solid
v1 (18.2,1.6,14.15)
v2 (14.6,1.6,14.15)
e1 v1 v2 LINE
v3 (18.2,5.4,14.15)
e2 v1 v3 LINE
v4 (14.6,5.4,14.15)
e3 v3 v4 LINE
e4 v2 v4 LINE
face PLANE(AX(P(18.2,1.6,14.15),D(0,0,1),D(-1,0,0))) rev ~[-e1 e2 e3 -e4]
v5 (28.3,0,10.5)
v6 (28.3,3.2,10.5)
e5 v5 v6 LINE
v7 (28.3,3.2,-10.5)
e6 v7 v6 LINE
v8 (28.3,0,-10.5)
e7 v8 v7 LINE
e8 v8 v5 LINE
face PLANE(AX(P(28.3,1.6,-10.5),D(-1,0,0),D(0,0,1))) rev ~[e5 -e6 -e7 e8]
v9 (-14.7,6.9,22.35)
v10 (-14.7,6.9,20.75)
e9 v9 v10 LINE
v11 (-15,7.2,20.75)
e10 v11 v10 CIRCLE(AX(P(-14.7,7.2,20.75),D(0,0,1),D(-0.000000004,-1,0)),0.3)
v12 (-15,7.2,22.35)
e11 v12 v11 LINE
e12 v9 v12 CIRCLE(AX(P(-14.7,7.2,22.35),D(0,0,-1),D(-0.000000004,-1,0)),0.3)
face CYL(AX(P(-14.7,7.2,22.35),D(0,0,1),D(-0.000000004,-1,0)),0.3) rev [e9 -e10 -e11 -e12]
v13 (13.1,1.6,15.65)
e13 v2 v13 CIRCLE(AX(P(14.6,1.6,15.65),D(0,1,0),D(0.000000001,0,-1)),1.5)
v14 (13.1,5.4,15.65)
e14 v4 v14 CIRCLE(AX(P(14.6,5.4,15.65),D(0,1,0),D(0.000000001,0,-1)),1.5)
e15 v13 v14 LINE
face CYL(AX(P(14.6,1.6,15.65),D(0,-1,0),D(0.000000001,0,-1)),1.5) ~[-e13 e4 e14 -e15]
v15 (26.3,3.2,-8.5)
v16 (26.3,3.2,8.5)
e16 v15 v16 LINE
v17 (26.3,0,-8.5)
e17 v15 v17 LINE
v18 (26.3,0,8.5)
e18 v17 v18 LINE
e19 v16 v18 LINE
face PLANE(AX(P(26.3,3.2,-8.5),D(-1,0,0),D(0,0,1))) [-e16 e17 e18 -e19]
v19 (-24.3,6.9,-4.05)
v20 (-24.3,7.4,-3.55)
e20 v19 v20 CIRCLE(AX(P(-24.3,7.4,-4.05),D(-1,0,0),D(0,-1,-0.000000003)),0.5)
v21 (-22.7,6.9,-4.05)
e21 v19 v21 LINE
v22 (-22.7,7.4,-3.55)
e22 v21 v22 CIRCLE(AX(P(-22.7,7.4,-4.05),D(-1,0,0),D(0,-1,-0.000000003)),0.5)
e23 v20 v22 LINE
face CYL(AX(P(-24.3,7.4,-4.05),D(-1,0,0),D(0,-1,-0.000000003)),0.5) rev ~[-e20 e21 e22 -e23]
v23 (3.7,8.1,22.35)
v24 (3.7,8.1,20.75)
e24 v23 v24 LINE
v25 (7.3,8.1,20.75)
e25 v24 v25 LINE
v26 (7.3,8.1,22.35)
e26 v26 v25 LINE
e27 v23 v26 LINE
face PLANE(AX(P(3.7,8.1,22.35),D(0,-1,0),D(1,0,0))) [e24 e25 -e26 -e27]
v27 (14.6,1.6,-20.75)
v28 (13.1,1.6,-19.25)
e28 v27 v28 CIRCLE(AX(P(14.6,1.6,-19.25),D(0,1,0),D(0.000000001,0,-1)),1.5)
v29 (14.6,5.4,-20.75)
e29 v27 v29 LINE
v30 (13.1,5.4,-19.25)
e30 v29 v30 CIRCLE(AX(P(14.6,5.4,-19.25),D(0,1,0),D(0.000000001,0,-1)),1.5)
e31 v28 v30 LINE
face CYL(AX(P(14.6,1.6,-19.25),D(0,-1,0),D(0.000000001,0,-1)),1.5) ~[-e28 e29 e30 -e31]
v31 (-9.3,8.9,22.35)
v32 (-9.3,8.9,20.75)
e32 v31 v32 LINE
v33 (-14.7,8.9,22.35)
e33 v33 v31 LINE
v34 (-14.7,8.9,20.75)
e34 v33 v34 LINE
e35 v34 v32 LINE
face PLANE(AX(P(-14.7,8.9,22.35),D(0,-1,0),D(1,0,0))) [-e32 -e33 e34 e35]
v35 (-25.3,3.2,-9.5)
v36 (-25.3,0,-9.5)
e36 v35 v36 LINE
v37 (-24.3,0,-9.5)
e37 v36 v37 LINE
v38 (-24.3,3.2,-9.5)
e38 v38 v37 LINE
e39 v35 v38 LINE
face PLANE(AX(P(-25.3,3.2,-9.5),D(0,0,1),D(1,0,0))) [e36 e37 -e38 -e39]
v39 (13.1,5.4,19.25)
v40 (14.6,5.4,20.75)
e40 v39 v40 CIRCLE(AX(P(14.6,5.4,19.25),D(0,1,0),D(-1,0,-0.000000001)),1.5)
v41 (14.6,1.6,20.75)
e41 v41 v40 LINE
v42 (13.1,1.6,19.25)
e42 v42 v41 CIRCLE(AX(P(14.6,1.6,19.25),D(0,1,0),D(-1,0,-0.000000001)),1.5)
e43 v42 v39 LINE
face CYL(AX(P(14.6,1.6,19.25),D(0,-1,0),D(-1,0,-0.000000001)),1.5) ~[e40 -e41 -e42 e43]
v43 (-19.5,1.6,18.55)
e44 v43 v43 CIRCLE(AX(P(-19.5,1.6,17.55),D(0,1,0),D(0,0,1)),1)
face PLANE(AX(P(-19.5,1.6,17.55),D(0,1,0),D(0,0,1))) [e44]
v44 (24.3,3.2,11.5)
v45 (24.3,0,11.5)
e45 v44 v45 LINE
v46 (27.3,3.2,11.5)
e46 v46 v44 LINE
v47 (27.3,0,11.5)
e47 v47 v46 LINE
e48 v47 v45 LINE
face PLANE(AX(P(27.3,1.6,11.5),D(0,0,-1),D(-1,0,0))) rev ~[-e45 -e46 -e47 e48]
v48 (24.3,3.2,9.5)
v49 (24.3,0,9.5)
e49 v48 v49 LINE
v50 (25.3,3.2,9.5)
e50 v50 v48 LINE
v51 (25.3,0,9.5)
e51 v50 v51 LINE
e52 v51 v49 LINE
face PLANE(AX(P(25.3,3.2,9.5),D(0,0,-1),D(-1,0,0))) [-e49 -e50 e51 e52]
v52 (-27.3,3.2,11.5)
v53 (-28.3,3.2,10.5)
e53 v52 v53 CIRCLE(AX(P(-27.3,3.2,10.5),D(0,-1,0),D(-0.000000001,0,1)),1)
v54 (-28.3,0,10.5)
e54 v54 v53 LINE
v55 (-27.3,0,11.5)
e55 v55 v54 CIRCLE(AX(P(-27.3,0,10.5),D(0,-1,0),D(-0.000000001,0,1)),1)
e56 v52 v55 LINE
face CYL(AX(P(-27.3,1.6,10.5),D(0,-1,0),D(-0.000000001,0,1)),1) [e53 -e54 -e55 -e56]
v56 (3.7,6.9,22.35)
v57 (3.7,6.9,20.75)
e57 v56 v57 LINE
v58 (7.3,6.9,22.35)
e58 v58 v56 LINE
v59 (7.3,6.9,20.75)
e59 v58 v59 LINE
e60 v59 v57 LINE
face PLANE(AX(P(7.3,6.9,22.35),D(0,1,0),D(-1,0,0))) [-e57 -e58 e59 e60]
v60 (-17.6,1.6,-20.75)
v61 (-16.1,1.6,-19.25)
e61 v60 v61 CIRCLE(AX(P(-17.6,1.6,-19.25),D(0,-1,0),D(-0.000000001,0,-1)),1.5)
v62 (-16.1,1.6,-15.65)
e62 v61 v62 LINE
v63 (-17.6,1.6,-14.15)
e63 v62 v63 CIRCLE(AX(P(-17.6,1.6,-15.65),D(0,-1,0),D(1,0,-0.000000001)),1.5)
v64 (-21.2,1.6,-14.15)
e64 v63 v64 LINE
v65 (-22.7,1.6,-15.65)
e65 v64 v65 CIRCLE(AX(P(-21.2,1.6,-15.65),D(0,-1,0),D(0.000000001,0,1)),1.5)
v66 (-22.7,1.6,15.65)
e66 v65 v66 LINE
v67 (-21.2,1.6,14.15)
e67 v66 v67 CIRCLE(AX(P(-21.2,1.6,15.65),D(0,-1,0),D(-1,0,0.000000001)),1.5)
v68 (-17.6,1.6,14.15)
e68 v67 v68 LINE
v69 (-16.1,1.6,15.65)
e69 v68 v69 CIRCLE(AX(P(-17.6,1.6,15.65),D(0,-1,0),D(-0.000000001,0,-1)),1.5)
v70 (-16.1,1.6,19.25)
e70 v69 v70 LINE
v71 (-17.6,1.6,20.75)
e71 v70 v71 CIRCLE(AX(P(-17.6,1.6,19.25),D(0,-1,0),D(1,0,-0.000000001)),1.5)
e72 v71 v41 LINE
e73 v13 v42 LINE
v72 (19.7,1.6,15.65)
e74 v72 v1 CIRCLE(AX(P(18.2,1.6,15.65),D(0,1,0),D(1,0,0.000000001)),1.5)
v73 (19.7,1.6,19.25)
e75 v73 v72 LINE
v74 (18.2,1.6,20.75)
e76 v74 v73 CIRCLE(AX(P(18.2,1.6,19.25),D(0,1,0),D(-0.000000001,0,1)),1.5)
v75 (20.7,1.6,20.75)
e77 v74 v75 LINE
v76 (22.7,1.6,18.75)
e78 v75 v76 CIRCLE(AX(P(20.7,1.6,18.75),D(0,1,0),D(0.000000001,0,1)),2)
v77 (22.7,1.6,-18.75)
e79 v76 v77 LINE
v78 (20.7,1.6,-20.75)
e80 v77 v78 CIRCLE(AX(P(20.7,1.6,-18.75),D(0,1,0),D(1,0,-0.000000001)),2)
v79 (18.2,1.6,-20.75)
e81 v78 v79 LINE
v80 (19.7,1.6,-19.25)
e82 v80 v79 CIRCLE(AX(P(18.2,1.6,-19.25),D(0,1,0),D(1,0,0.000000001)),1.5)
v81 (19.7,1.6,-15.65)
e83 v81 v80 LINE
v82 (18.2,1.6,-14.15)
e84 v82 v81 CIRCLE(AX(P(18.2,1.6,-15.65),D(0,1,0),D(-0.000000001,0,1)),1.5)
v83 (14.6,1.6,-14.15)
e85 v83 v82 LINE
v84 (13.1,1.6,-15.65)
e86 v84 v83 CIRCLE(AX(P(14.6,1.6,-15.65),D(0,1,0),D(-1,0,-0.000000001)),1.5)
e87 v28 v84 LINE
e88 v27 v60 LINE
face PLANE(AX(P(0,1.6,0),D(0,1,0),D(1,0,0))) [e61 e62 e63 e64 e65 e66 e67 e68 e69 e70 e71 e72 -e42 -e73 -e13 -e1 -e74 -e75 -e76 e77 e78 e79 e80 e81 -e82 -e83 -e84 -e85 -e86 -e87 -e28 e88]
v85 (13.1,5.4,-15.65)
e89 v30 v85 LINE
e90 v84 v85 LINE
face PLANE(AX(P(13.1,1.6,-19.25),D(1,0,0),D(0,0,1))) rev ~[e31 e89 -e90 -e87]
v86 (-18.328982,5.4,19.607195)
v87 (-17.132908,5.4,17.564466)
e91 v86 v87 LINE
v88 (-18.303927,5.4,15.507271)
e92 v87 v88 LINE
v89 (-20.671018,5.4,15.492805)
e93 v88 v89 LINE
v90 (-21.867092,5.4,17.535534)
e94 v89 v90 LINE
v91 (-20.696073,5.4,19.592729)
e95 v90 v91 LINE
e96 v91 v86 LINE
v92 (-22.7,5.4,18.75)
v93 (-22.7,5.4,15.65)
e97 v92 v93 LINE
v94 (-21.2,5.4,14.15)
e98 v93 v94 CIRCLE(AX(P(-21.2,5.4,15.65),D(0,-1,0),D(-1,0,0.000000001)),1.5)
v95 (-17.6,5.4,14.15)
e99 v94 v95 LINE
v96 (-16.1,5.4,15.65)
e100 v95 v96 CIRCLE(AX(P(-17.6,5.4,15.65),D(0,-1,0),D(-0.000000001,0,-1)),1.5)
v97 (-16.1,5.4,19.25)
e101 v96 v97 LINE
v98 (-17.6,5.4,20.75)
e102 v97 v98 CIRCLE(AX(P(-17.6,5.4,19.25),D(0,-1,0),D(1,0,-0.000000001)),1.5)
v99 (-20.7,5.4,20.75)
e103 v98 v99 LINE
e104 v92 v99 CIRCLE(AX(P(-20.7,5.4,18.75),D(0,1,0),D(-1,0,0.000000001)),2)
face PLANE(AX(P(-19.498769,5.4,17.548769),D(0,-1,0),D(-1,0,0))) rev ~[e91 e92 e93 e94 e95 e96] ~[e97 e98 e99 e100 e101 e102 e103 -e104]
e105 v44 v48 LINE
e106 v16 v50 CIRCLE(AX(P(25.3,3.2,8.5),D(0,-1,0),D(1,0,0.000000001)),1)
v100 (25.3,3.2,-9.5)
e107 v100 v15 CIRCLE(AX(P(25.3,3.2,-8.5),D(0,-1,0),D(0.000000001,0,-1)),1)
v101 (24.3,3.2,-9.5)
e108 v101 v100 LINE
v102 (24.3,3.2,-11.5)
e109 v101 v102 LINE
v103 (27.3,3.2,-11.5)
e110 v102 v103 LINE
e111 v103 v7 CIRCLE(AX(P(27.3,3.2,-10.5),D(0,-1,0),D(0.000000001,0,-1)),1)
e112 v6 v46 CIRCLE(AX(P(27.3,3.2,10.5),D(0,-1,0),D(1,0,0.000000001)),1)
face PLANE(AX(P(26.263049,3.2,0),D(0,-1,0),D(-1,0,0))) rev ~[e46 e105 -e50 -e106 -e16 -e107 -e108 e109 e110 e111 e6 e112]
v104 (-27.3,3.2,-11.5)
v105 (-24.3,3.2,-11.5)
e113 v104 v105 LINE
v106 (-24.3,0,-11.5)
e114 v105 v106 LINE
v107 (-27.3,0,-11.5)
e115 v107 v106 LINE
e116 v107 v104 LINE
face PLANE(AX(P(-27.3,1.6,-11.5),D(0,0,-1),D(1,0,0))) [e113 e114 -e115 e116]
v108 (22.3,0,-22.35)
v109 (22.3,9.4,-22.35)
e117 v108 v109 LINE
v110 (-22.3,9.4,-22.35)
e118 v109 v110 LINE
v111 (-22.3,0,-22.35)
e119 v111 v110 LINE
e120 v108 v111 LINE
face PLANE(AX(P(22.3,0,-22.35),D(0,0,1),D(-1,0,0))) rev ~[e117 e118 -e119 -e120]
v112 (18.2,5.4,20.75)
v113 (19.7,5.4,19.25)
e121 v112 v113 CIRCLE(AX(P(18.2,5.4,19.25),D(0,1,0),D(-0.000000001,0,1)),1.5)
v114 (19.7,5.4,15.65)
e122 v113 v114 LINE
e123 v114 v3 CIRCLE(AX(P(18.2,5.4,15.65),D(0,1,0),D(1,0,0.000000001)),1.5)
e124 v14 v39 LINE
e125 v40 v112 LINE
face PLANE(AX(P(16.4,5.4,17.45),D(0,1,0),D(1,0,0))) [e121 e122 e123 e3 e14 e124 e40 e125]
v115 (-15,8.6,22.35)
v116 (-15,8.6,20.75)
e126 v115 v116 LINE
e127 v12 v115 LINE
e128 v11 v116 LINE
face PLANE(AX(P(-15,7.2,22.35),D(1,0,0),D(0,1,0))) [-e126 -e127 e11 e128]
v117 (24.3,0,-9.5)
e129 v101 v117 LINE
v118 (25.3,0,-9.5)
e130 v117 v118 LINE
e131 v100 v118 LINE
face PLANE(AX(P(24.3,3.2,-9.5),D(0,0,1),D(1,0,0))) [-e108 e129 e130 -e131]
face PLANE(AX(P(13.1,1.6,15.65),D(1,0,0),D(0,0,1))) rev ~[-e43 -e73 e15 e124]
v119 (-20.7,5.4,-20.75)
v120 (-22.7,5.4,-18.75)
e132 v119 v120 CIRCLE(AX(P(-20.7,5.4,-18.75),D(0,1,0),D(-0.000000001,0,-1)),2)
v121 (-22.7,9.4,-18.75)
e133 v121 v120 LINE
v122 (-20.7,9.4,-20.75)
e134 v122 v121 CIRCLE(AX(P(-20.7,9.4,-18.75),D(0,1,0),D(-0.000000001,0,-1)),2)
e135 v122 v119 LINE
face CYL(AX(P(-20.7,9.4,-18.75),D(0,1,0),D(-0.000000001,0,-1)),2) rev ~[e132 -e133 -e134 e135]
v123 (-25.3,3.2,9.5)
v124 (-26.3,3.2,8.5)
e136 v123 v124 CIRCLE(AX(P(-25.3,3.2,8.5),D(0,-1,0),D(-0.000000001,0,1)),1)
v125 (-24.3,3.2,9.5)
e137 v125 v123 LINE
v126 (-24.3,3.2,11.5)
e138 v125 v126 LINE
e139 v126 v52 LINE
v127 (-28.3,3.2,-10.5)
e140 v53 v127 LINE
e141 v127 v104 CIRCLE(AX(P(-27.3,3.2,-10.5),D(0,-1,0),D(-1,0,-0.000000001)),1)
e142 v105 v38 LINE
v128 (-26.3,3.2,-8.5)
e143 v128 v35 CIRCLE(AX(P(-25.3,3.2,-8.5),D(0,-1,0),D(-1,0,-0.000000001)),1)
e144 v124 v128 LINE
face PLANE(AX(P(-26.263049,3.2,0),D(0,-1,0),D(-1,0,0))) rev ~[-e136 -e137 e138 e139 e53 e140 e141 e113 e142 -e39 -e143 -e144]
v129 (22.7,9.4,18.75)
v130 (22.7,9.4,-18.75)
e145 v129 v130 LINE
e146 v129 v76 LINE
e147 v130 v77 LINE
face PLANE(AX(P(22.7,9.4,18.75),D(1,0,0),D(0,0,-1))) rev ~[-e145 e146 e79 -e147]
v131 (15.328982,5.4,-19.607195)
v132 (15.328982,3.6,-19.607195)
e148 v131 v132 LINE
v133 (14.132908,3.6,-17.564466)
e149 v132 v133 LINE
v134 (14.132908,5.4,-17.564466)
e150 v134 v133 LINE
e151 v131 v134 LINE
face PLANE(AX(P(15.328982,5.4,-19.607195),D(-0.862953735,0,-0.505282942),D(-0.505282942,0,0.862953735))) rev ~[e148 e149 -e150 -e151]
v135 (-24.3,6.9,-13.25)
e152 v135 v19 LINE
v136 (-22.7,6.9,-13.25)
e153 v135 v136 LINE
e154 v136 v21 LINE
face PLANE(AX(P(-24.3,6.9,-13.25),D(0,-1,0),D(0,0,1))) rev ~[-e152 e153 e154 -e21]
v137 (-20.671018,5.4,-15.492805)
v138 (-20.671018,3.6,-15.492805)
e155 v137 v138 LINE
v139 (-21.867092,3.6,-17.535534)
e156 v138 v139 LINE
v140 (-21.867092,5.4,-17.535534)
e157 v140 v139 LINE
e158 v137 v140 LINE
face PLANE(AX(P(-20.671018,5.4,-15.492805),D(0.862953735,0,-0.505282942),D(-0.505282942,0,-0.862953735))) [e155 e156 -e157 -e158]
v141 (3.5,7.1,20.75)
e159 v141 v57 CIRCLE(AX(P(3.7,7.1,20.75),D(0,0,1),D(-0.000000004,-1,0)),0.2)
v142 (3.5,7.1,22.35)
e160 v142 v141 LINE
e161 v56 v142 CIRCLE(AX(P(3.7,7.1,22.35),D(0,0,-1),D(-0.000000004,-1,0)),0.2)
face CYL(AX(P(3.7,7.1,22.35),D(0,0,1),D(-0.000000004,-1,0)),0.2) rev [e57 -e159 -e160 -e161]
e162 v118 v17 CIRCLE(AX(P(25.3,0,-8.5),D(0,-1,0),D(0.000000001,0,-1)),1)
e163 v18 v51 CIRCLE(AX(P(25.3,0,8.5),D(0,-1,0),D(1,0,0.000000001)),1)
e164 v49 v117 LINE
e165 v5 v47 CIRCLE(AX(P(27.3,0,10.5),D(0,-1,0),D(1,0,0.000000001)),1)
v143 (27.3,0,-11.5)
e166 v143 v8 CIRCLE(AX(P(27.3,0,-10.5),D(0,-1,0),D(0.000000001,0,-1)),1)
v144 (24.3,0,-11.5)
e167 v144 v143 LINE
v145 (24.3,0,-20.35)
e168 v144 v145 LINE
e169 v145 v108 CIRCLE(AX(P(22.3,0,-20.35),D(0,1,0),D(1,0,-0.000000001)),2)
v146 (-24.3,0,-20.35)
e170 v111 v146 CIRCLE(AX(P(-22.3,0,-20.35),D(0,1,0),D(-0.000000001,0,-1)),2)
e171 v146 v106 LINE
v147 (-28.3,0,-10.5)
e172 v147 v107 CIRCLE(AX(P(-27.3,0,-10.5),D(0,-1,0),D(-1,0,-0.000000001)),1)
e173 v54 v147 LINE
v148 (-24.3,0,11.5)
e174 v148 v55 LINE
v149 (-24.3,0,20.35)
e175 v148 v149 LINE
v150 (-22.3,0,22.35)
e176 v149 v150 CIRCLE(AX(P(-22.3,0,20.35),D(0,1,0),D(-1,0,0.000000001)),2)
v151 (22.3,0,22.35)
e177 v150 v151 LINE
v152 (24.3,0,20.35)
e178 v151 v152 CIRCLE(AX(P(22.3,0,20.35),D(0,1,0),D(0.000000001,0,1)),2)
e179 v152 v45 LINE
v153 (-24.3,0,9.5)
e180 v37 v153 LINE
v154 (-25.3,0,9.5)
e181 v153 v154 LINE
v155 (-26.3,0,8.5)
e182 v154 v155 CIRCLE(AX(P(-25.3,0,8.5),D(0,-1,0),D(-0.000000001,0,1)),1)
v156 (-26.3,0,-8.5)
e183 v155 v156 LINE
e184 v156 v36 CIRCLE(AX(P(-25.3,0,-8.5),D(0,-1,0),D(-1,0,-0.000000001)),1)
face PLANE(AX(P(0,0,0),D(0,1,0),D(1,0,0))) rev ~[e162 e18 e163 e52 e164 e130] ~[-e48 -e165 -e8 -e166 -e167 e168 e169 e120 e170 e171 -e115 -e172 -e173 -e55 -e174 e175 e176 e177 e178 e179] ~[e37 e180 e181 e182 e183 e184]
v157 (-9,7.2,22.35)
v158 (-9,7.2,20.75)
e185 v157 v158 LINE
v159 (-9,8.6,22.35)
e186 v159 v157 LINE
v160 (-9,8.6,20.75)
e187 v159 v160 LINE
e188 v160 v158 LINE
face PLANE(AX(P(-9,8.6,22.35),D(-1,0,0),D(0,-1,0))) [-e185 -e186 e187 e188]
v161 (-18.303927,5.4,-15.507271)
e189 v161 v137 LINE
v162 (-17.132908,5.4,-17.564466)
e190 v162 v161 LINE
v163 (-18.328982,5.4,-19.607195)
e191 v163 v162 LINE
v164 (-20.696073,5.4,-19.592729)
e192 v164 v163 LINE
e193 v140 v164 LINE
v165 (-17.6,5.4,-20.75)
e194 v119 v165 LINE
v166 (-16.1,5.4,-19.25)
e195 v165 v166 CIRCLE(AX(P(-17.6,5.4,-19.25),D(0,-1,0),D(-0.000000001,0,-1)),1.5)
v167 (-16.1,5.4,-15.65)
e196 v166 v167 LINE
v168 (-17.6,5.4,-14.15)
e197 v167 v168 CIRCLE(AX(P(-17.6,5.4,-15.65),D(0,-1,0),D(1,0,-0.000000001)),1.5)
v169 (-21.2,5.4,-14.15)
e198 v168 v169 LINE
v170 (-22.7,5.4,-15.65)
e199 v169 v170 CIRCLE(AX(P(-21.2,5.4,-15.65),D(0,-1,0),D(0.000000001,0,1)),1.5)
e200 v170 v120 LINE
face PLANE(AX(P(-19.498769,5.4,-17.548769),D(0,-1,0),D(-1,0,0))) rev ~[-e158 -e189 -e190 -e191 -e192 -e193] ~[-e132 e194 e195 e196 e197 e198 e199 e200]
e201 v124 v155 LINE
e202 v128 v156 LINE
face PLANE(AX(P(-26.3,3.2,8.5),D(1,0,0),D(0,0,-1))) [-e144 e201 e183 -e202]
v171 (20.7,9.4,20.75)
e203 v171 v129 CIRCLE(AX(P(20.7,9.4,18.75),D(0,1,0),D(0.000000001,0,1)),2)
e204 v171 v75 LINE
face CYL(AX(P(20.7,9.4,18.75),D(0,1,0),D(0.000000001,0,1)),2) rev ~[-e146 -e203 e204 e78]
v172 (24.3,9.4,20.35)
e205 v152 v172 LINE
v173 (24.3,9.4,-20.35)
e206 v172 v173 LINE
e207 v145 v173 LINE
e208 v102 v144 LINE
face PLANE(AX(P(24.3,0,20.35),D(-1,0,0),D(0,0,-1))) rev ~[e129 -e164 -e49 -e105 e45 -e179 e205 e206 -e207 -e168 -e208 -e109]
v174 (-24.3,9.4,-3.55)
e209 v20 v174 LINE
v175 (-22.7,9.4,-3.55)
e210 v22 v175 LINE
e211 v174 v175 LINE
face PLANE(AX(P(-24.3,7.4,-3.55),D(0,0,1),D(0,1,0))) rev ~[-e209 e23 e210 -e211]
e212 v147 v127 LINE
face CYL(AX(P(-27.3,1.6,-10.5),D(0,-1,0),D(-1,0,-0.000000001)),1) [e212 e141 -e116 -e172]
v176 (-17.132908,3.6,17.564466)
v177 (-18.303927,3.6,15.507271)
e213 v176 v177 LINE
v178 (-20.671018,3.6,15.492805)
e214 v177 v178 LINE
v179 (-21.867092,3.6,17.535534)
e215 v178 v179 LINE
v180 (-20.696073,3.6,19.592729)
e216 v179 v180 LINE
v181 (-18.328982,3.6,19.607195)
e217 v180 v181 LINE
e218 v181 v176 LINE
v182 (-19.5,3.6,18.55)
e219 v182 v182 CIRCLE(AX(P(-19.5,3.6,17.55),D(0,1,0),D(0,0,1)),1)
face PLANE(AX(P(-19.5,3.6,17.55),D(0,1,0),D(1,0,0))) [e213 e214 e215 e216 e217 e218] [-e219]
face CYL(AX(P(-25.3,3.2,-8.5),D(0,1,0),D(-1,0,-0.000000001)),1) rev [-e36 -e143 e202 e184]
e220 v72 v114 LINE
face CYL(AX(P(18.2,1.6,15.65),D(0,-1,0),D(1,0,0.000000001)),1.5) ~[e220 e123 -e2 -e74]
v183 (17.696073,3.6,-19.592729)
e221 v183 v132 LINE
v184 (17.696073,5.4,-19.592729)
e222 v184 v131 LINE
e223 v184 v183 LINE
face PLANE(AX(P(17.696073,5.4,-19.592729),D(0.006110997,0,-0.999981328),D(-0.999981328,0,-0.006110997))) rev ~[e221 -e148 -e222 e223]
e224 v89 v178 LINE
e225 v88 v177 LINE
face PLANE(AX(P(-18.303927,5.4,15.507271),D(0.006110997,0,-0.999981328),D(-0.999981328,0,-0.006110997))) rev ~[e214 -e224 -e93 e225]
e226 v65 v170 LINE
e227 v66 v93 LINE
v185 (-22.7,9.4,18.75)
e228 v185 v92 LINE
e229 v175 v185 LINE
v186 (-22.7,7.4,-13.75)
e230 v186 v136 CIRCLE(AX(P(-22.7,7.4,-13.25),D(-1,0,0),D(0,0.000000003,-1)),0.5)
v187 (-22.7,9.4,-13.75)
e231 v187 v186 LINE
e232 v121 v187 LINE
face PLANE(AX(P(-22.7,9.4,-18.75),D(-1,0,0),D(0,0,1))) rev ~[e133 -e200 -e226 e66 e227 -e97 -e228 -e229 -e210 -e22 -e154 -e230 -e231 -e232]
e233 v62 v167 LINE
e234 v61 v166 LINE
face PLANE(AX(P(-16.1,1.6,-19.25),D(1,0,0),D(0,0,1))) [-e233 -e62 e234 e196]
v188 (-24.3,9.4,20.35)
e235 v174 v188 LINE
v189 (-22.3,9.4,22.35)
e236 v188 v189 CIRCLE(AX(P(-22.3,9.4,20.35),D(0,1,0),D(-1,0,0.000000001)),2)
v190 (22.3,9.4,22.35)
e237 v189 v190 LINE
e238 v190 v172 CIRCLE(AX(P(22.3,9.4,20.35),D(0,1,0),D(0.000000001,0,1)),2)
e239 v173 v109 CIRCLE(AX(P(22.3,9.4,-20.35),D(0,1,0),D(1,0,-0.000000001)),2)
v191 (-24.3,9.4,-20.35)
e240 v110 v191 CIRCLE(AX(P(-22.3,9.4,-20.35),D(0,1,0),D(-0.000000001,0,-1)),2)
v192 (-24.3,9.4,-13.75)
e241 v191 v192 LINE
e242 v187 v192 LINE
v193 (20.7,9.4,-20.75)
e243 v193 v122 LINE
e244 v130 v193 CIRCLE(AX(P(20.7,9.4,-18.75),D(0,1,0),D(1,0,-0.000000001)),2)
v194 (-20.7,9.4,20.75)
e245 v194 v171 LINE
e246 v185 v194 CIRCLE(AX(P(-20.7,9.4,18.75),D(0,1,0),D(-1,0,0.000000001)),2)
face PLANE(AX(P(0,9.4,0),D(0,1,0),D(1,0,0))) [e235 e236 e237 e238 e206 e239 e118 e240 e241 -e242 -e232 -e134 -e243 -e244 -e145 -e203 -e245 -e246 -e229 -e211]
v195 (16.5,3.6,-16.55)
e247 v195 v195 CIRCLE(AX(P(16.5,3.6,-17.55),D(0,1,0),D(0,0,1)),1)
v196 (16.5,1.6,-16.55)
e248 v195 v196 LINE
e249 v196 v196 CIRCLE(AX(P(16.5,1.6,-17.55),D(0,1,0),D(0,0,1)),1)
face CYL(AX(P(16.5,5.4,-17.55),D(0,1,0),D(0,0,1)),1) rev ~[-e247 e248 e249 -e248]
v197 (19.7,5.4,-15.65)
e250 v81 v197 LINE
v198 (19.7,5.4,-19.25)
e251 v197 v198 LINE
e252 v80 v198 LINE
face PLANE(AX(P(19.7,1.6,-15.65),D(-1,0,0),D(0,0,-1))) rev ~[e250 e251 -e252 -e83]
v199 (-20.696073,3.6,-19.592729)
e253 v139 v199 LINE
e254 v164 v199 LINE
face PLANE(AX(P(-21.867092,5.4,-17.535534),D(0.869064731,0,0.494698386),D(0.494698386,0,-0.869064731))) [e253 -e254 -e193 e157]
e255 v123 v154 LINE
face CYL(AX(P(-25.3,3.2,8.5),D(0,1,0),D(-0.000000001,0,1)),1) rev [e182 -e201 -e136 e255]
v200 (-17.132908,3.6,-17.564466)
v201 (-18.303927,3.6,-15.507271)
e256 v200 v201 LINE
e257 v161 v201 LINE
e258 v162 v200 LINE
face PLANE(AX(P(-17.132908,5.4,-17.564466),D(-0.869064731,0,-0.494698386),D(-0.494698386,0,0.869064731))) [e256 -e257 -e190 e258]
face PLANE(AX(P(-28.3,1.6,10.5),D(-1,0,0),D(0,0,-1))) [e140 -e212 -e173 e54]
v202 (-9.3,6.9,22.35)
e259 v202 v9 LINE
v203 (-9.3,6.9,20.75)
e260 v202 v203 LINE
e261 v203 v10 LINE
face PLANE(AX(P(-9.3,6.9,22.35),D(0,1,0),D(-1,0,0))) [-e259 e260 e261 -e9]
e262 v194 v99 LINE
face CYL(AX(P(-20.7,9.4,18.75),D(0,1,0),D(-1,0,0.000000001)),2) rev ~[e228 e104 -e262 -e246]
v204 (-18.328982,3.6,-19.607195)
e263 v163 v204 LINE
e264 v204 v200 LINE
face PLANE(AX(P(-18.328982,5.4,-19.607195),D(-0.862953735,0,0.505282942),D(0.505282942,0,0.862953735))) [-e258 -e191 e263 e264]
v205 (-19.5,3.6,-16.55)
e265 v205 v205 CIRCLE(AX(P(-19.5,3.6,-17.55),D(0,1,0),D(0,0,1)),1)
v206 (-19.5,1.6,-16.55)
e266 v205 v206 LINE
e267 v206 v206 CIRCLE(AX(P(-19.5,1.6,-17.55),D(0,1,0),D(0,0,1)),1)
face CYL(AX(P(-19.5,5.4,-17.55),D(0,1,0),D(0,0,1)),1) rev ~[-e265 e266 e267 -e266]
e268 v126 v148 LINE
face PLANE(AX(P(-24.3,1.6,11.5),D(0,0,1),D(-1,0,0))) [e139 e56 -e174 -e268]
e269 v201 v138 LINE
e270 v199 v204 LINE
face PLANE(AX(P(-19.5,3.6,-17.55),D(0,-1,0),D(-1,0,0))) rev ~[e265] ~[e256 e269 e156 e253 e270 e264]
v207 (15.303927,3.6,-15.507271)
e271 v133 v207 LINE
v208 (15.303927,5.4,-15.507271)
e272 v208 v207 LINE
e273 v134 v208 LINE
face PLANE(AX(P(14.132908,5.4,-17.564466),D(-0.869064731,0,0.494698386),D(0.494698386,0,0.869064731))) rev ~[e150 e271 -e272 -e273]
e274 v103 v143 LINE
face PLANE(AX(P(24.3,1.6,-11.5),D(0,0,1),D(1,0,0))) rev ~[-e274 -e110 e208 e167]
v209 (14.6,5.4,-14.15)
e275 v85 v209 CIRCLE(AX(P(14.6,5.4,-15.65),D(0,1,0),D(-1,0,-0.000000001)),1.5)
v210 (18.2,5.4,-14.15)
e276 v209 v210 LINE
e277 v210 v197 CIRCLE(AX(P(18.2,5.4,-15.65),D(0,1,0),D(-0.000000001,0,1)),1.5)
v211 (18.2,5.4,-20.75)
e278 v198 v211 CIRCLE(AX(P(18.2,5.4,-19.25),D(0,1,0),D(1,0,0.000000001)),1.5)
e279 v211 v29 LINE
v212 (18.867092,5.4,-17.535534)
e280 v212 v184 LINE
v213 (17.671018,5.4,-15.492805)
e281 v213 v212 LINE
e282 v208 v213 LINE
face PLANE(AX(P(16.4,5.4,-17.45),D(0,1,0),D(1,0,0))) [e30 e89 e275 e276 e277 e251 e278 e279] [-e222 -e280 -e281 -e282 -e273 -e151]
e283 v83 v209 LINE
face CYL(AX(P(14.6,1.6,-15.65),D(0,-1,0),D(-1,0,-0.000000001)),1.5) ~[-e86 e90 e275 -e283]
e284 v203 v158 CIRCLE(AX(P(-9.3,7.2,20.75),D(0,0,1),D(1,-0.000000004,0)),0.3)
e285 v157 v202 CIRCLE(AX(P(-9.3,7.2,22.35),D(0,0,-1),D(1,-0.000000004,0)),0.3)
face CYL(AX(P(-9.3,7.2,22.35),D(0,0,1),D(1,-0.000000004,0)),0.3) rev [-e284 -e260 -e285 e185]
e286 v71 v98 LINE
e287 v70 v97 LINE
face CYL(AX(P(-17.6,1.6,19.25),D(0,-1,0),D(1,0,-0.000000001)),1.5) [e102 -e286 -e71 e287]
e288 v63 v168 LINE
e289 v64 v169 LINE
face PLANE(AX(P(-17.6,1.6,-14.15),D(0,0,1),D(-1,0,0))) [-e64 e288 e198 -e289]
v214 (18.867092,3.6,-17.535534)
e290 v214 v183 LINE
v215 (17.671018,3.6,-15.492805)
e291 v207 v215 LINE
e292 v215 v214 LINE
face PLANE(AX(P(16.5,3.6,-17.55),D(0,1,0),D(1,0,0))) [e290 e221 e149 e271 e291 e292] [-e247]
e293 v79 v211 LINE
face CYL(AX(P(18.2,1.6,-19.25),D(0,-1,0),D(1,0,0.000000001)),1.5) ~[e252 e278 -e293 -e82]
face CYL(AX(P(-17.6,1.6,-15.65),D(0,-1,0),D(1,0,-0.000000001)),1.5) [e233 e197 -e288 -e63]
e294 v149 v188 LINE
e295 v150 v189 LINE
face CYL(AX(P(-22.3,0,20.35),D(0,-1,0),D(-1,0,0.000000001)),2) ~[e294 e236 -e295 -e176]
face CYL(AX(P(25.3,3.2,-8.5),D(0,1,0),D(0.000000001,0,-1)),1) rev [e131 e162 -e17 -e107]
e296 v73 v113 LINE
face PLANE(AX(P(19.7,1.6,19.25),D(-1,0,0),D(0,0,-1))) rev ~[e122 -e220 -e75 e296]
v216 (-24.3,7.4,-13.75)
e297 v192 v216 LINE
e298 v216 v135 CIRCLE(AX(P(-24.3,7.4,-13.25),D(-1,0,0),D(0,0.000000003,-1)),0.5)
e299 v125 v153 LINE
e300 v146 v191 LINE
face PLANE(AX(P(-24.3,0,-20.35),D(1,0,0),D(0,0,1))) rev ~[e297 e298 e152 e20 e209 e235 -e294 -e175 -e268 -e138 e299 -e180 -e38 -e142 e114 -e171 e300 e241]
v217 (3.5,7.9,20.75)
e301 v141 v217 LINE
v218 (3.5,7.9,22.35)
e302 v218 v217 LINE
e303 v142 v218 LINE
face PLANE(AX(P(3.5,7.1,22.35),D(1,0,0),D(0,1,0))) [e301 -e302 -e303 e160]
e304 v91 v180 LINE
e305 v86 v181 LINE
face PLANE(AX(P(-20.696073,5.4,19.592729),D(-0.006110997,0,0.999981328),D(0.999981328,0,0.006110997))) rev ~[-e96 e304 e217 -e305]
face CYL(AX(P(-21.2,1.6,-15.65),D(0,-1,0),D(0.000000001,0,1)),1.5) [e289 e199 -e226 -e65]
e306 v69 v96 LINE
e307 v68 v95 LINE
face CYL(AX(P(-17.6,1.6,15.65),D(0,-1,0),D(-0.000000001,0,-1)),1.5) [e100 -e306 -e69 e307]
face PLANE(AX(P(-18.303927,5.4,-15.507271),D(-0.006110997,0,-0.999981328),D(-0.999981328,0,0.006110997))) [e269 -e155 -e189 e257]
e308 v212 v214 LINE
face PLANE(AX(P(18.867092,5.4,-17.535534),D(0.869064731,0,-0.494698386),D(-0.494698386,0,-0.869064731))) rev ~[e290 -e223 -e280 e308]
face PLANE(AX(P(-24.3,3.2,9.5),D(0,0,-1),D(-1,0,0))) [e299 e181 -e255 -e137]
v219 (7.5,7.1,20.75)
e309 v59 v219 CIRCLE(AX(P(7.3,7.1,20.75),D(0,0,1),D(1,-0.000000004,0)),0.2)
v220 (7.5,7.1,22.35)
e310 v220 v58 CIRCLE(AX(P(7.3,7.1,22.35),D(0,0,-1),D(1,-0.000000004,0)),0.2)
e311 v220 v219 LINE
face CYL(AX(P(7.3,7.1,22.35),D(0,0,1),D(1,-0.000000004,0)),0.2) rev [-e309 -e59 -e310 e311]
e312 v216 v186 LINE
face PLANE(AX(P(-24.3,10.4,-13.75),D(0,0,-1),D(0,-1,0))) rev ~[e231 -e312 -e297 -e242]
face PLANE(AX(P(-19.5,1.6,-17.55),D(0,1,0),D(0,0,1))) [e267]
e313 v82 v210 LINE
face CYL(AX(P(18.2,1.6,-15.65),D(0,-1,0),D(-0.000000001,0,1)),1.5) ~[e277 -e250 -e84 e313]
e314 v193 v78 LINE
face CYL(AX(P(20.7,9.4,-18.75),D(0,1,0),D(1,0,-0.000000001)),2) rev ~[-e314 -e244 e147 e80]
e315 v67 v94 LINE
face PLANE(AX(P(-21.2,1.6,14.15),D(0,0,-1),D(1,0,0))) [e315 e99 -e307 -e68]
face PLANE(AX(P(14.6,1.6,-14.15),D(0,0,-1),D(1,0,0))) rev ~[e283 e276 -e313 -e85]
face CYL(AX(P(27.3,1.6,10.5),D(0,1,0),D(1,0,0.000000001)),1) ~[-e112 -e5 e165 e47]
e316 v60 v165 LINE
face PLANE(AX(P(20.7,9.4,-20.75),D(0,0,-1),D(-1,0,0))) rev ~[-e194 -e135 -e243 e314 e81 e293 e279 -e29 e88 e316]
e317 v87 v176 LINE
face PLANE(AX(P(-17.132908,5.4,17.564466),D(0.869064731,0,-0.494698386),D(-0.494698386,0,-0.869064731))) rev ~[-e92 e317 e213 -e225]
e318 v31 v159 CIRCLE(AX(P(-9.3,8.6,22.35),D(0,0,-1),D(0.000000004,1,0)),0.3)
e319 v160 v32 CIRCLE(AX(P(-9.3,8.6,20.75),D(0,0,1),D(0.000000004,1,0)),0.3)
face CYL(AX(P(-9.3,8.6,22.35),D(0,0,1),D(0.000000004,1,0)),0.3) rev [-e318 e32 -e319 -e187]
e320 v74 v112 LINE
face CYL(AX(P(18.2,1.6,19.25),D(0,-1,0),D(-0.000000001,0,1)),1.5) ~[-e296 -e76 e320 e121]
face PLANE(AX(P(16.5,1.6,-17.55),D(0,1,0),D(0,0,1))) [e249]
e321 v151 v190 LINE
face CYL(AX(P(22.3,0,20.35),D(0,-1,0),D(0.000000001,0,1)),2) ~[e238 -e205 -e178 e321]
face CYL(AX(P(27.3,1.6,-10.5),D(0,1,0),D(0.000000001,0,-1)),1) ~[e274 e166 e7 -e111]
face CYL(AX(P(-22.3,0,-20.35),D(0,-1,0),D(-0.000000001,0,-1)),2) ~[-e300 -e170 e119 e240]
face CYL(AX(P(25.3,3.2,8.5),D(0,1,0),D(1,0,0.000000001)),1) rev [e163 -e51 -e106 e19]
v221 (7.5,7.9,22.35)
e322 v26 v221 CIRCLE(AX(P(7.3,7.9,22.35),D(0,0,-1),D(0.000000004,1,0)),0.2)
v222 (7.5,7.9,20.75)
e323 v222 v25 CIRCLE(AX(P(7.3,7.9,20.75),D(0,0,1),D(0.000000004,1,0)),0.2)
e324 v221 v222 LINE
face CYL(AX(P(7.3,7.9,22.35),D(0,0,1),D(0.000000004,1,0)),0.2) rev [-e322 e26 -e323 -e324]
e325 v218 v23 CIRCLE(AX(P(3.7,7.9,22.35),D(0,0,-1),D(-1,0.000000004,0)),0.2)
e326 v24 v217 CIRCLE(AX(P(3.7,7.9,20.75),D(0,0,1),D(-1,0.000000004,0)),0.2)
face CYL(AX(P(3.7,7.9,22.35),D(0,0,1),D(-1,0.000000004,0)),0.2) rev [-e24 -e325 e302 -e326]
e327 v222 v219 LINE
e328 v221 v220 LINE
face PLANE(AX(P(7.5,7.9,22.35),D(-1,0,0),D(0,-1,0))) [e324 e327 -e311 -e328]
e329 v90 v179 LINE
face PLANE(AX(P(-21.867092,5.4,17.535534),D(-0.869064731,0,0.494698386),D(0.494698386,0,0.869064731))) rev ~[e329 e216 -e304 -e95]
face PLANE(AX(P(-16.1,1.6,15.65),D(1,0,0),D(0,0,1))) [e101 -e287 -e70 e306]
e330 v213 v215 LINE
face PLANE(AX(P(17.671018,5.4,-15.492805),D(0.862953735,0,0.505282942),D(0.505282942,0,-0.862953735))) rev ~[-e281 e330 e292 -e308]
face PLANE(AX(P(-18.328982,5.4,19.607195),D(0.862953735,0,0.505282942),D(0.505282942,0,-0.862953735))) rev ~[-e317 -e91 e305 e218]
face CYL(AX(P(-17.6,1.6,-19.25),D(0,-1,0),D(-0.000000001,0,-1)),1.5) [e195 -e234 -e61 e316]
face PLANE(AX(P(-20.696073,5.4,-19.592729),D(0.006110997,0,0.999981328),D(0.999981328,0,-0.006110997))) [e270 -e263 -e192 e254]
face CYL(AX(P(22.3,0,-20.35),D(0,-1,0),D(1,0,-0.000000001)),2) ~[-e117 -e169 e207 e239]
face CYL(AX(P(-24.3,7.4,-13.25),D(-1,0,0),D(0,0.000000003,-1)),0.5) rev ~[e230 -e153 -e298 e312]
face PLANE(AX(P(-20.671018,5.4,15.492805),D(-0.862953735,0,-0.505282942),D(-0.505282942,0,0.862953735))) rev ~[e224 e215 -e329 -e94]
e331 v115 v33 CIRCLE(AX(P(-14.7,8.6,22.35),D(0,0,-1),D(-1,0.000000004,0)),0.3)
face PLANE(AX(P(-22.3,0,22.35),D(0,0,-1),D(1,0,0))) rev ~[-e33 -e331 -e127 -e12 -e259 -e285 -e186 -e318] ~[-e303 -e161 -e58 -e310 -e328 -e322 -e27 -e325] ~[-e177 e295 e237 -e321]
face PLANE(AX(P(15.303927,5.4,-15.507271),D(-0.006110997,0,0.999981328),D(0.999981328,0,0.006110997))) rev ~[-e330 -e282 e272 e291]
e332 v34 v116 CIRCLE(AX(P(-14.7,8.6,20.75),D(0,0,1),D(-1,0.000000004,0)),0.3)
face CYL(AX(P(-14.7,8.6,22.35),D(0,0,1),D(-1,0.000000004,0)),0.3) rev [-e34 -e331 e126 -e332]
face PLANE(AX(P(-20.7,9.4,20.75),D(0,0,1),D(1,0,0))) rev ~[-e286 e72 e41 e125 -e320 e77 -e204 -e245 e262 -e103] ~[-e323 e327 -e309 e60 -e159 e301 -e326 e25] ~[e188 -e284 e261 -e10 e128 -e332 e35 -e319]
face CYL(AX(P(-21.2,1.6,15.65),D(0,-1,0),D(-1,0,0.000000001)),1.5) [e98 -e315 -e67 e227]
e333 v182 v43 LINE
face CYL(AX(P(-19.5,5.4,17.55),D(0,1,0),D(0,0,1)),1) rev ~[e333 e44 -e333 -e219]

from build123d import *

# Parameters (mm, degrees)
EXTRUDE_1_DEPTH     = 9.4
CUT_EXTRUDE_1_DEPTH = 7.8
EXTRUDE_2_DEPTH     = 3.8
CUT_EXTRUDE_2_DEPTH = 1.8
SKETCH_5_R          = 1
CUT_EXTRUDE_4_DEPTH = 3.8
CUT_EXTRUDE_5_DEPTH = 2.8
CUT_EXTRUDE_6_DEPTH = 2.8
CUT_EXTRUDE_7_DEPTH = 2.8
EXTRUDE_3_DEPTH     = 1.6
CUT_EXTRUDE_8_DEPTH = 3.2


with BuildPart() as part:
    # 草图1 → 凸台-拉伸1 (new body)
    with BuildSketch(Plane(origin=(0, 0, 0), x_dir=(1, 0, 0), z_dir=(0, 1, 0))):
        with BuildLine():
            Line((-22.3, -22.35), (22.3, -22.35))
            ThreePointArc((22.3, -22.35), (23.714213562, -21.764213562), (24.3, -20.35))
            Line((24.3, -20.35), (24.3, 20.35))
            ThreePointArc((24.3, 20.35), (23.714213562, 21.764213562), (22.3, 22.35))
            Line((22.3, 22.35), (-22.3, 22.35))
            ThreePointArc((-22.3, 22.35), (-23.714213562, 21.764213562), (-24.3, 20.35))
            Line((-24.3, 20.35), (-24.3, -20.35))
            ThreePointArc((-24.3, -20.35), (-23.714213562, -21.764213562), (-22.3, -22.35))
        make_face()
    extrude(amount=EXTRUDE_1_DEPTH)

    # 草图2 → 切除-拉伸1 (cut)
    with BuildSketch(Plane(origin=(0, 9.4, 0), x_dir=(1, 0, 0), z_dir=(0, 1, 0))):
        with BuildLine():
            Line((-20.7, -20.75), (20.7, -20.75))
            ThreePointArc((20.7, -20.75), (22.114213562, -20.164213562), (22.7, -18.75))
            Line((22.7, -18.75), (22.7, 18.75))
            ThreePointArc((22.7, 18.75), (22.114213562, 20.164213562), (20.7, 20.75))
            Line((20.7, 20.75), (-20.7, 20.75))
            ThreePointArc((-20.7, 20.75), (-22.114213562, 20.164213562), (-22.7, 18.75))
            Line((-22.7, 18.75), (-22.7, -18.75))
            ThreePointArc((-22.7, -18.75), (-22.114213562, -20.164213562), (-20.7, -20.75))
        make_face()
    extrude(amount=-CUT_EXTRUDE_1_DEPTH, mode=Mode.SUBTRACT)

    # 草图3 → 凸台-拉伸2 (add)
    with BuildSketch(Plane(origin=(0, 1.6, 0), x_dir=(1, 0, 0), z_dir=(0, 1, 0))):
        with BuildLine():
            Line((-21.2, -14.15), (-17.6, -14.15))
            ThreePointArc((-17.6, -14.15), (-16.539339828, -14.589339828), (-16.1, -15.65))
            Line((-16.1, -15.65), (-16.1, -19.25))
            ThreePointArc((-16.1, -19.25), (-16.539339828, -20.310660172), (-17.6, -20.75))
            Line((-17.6, -20.75), (-22.7, -20.75))
            Line((-22.7, -20.75), (-22.7, -15.65))
            ThreePointArc((-22.7, -15.65), (-22.260660172, -14.589339828), (-21.2, -14.15))
        make_face()
        with BuildLine():
            Line((-22.7, 20.75), (-17.6, 20.75))
            ThreePointArc((-17.6, 20.75), (-16.539339828, 20.310660172), (-16.1, 19.25))
            Line((-16.1, 19.25), (-16.1, 15.65))
            ThreePointArc((-16.1, 15.65), (-16.539339828, 14.589339828), (-17.6, 14.15))
            Line((-17.6, 14.15), (-21.2, 14.15))
            ThreePointArc((-21.2, 14.15), (-22.260660172, 14.589339828), (-22.7, 15.65))
            Line((-22.7, 15.65), (-22.7, 20.75))
        make_face()
        with BuildLine():
            Line((19.7, 15.65), (19.7, 19.25))
            ThreePointArc((19.7, 19.25), (19.260660172, 20.310660172), (18.2, 20.75))
            Line((18.2, 20.75), (14.6, 20.75))
            ThreePointArc((14.6, 20.75), (13.539339828, 20.310660172), (13.1, 19.25))
            Line((13.1, 19.25), (13.1, 15.65))
            ThreePointArc((13.1, 15.65), (13.539339828, 14.589339828), (14.6, 14.15))
            Line((14.6, 14.15), (18.2, 14.15))
            ThreePointArc((18.2, 14.15), (19.260660172, 14.589339828), (19.7, 15.65))
        make_face()
        with BuildLine():
            Line((18.2, -14.15), (14.6, -14.15))
            ThreePointArc((14.6, -14.15), (13.539339828, -14.589339828), (13.1, -15.65))
            Line((13.1, -15.65), (13.1, -19.25))
            ThreePointArc((13.1, -19.25), (13.539339828, -20.310660172), (14.6, -20.75))
            Line((14.6, -20.75), (18.2, -20.75))
            ThreePointArc((18.2, -20.75), (19.260660172, -20.310660172), (19.7, -19.25))
            Line((19.7, -19.25), (19.7, -15.65))
            ThreePointArc((19.7, -15.65), (19.260660172, -14.589339828), (18.2, -14.15))
        make_face()
    extrude(amount=EXTRUDE_2_DEPTH)

    # 草图4 → 切除-拉伸2 (cut)
    with BuildSketch(Plane(origin=(0, 5.4, 0), x_dir=(1, 0, 0), z_dir=(0, 1, 0))):
        Polygon((-18.328981591, -19.607194502), (-17.132908096, -17.564465561), (-18.303926505, -15.507271059), (-20.671018409, -15.492805498), (-21.867091904, -17.535534439), (-20.696073495, -19.592728941), align=None)
        Polygon((-20.696073495, 19.592728941), (-18.328981591, 19.607194502), (-17.132908096, 17.564465561), (-18.303926505, 15.507271059), (-20.671018409, 15.492805498), (-21.867091904, 17.535534439), align=None)
        Polygon((18.867091904, 17.535534439), (17.696073495, 19.592728941), (15.328981591, 19.607194502), (14.132908096, 17.564465561), (15.303926505, 15.507271059), (17.671018409, 15.492805498), align=None)
    extrude(amount=-CUT_EXTRUDE_2_DEPTH, mode=Mode.SUBTRACT)

    # 草图5 → 切除-拉伸4 (cut)
    with BuildSketch(Plane(origin=(0, 5.4, 0), x_dir=(1, 0, 0), z_dir=(0, 1, 0))):
        with Locations(Location((-19.5, -17.55, 0), (0, 0, 270))):
            Circle(SKETCH_5_R)
        with Locations(Location((-19.5, 17.55, 0), (0, 0, 270))):
            Circle(SKETCH_5_R)
        with Locations(Location((16.5, 17.55, 0), (0, 0, 270))):
            Circle(SKETCH_5_R)
    extrude(amount=-CUT_EXTRUDE_4_DEPTH, mode=Mode.SUBTRACT)

    # 草图6 → 切除-拉伸5 (cut)
    with BuildSketch(Plane.ZY.offset(24.3)):
        with BuildLine():
            Line((-13.25, 6.9), (-4.05, 6.9))
            ThreePointArc((-4.05, 6.9), (-3.696446609, 7.046446609), (-3.55, 7.4))
            Line((-3.55, 7.4), (-3.55, 10.4))
            Line((-3.55, 10.4), (-13.75, 10.4))
            Line((-13.75, 10.4), (-13.75, 7.4))
            ThreePointArc((-13.75, 7.4), (-13.603553391, 7.046446609), (-13.25, 6.9))
        make_face()
    extrude(amount=-CUT_EXTRUDE_5_DEPTH, mode=Mode.SUBTRACT)

    # 草图7 → 切除-拉伸6 (cut)
    with BuildSketch(Plane.XY.offset(22.35)):
        with BuildLine():
            Line((-14.7, 8.9), (-9.3, 8.9))
            ThreePointArc((-9.3, 8.9), (-9.087867966, 8.812132034), (-9, 8.6))
            Line((-9, 8.6), (-9, 7.2))
            ThreePointArc((-9, 7.2), (-9.087867966, 6.987867966), (-9.3, 6.9))
            Line((-9.3, 6.9), (-14.7, 6.9))
            ThreePointArc((-14.7, 6.9), (-14.912132034, 6.987867966), (-15, 7.2))
            Line((-15, 7.2), (-15, 8.6))
            ThreePointArc((-15, 8.6), (-14.912132034, 8.812132034), (-14.7, 8.9))
        make_face()
    extrude(amount=-CUT_EXTRUDE_6_DEPTH, mode=Mode.SUBTRACT)

    # 草图8 → 切除-拉伸7 (cut)
    with BuildSketch(Plane.XY.offset(22.35)):
        with BuildLine():
            Line((3.7, 8.1), (7.3, 8.1))
            ThreePointArc((7.3, 8.1), (7.441421356, 8.041421356), (7.5, 7.9))
            Line((7.5, 7.9), (7.5, 7.1))
            ThreePointArc((7.5, 7.1), (7.441421356, 6.958578644), (7.3, 6.9))
            Line((7.3, 6.9), (3.7, 6.9))
            ThreePointArc((3.7, 6.9), (3.558578644, 6.958578644), (3.5, 7.1))
            Line((3.5, 7.1), (3.5, 7.9))
            ThreePointArc((3.5, 7.9), (3.558578644, 8.041421356), (3.7, 8.1))
        make_face()
    extrude(amount=-CUT_EXTRUDE_7_DEPTH, mode=Mode.SUBTRACT)

    # 草图12 → 凸台-拉伸3 (add, symmetric)
    with BuildSketch(Plane(origin=(0, 1.6, 0), x_dir=(1, 0, 0), z_dir=(0, 1, 0))):
        with BuildLine():
            Line((-27.3, 11.5), (-24.3, 11.5))
            Line((-24.3, 11.5), (-24.3, -11.5))
            Line((-24.3, -11.5), (-27.3, -11.5))
            ThreePointArc((-27.3, -11.5), (-28.007106781, -11.207106781), (-28.3, -10.5))
            Line((-28.3, -10.5), (-28.3, 10.5))
            ThreePointArc((-28.3, 10.5), (-28.007106781, 11.207106781), (-27.3, 11.5))
        make_face()
        with BuildLine():
            Line((27.3, -11.5), (24.3, -11.5))
            Line((24.3, -11.5), (24.3, 11.5))
            Line((24.3, 11.5), (27.3, 11.5))
            ThreePointArc((27.3, 11.5), (28.007106781, 11.207106781), (28.3, 10.5))
            Line((28.3, 10.5), (28.3, -10.5))
            ThreePointArc((28.3, -10.5), (28.007106781, -11.207106781), (27.3, -11.5))
        make_face()
    extrude(amount=EXTRUDE_3_DEPTH, both=True)

    # 草图13 → 切除-拉伸8 (cut)
    with BuildSketch(Plane(origin=(0, 3.2, 0), x_dir=(1, 0, 0), z_dir=(0, 1, 0))):
        with BuildLine():
            Line((-25.3, 9.5), (-24.3, 9.5))
            Line((-24.3, 9.5), (-24.3, -9.5))
            Line((-24.3, -9.5), (-25.3, -9.5))
            ThreePointArc((-25.3, -9.5), (-26.007106781, -9.207106781), (-26.3, -8.5))
            Line((-26.3, -8.5), (-26.3, 8.5))
            ThreePointArc((-26.3, 8.5), (-26.007106781, 9.207106781), (-25.3, 9.5))
        make_face()
        with BuildLine():
            Line((25.3, -9.5), (24.3, -9.5))
            Line((24.3, -9.5), (24.3, 9.5))
            Line((24.3, 9.5), (25.3, 9.5))
            ThreePointArc((25.3, 9.5), (26.007106781, 9.207106781), (26.3, 8.5))
            Line((26.3, 8.5), (26.3, -8.5))
            ThreePointArc((26.3, -8.5), (26.007106781, -9.207106781), (25.3, -9.5))
        make_face()
    extrude(amount=-CUT_EXTRUDE_8_DEPTH, mode=Mode.SUBTRACT)


solid = part.part
